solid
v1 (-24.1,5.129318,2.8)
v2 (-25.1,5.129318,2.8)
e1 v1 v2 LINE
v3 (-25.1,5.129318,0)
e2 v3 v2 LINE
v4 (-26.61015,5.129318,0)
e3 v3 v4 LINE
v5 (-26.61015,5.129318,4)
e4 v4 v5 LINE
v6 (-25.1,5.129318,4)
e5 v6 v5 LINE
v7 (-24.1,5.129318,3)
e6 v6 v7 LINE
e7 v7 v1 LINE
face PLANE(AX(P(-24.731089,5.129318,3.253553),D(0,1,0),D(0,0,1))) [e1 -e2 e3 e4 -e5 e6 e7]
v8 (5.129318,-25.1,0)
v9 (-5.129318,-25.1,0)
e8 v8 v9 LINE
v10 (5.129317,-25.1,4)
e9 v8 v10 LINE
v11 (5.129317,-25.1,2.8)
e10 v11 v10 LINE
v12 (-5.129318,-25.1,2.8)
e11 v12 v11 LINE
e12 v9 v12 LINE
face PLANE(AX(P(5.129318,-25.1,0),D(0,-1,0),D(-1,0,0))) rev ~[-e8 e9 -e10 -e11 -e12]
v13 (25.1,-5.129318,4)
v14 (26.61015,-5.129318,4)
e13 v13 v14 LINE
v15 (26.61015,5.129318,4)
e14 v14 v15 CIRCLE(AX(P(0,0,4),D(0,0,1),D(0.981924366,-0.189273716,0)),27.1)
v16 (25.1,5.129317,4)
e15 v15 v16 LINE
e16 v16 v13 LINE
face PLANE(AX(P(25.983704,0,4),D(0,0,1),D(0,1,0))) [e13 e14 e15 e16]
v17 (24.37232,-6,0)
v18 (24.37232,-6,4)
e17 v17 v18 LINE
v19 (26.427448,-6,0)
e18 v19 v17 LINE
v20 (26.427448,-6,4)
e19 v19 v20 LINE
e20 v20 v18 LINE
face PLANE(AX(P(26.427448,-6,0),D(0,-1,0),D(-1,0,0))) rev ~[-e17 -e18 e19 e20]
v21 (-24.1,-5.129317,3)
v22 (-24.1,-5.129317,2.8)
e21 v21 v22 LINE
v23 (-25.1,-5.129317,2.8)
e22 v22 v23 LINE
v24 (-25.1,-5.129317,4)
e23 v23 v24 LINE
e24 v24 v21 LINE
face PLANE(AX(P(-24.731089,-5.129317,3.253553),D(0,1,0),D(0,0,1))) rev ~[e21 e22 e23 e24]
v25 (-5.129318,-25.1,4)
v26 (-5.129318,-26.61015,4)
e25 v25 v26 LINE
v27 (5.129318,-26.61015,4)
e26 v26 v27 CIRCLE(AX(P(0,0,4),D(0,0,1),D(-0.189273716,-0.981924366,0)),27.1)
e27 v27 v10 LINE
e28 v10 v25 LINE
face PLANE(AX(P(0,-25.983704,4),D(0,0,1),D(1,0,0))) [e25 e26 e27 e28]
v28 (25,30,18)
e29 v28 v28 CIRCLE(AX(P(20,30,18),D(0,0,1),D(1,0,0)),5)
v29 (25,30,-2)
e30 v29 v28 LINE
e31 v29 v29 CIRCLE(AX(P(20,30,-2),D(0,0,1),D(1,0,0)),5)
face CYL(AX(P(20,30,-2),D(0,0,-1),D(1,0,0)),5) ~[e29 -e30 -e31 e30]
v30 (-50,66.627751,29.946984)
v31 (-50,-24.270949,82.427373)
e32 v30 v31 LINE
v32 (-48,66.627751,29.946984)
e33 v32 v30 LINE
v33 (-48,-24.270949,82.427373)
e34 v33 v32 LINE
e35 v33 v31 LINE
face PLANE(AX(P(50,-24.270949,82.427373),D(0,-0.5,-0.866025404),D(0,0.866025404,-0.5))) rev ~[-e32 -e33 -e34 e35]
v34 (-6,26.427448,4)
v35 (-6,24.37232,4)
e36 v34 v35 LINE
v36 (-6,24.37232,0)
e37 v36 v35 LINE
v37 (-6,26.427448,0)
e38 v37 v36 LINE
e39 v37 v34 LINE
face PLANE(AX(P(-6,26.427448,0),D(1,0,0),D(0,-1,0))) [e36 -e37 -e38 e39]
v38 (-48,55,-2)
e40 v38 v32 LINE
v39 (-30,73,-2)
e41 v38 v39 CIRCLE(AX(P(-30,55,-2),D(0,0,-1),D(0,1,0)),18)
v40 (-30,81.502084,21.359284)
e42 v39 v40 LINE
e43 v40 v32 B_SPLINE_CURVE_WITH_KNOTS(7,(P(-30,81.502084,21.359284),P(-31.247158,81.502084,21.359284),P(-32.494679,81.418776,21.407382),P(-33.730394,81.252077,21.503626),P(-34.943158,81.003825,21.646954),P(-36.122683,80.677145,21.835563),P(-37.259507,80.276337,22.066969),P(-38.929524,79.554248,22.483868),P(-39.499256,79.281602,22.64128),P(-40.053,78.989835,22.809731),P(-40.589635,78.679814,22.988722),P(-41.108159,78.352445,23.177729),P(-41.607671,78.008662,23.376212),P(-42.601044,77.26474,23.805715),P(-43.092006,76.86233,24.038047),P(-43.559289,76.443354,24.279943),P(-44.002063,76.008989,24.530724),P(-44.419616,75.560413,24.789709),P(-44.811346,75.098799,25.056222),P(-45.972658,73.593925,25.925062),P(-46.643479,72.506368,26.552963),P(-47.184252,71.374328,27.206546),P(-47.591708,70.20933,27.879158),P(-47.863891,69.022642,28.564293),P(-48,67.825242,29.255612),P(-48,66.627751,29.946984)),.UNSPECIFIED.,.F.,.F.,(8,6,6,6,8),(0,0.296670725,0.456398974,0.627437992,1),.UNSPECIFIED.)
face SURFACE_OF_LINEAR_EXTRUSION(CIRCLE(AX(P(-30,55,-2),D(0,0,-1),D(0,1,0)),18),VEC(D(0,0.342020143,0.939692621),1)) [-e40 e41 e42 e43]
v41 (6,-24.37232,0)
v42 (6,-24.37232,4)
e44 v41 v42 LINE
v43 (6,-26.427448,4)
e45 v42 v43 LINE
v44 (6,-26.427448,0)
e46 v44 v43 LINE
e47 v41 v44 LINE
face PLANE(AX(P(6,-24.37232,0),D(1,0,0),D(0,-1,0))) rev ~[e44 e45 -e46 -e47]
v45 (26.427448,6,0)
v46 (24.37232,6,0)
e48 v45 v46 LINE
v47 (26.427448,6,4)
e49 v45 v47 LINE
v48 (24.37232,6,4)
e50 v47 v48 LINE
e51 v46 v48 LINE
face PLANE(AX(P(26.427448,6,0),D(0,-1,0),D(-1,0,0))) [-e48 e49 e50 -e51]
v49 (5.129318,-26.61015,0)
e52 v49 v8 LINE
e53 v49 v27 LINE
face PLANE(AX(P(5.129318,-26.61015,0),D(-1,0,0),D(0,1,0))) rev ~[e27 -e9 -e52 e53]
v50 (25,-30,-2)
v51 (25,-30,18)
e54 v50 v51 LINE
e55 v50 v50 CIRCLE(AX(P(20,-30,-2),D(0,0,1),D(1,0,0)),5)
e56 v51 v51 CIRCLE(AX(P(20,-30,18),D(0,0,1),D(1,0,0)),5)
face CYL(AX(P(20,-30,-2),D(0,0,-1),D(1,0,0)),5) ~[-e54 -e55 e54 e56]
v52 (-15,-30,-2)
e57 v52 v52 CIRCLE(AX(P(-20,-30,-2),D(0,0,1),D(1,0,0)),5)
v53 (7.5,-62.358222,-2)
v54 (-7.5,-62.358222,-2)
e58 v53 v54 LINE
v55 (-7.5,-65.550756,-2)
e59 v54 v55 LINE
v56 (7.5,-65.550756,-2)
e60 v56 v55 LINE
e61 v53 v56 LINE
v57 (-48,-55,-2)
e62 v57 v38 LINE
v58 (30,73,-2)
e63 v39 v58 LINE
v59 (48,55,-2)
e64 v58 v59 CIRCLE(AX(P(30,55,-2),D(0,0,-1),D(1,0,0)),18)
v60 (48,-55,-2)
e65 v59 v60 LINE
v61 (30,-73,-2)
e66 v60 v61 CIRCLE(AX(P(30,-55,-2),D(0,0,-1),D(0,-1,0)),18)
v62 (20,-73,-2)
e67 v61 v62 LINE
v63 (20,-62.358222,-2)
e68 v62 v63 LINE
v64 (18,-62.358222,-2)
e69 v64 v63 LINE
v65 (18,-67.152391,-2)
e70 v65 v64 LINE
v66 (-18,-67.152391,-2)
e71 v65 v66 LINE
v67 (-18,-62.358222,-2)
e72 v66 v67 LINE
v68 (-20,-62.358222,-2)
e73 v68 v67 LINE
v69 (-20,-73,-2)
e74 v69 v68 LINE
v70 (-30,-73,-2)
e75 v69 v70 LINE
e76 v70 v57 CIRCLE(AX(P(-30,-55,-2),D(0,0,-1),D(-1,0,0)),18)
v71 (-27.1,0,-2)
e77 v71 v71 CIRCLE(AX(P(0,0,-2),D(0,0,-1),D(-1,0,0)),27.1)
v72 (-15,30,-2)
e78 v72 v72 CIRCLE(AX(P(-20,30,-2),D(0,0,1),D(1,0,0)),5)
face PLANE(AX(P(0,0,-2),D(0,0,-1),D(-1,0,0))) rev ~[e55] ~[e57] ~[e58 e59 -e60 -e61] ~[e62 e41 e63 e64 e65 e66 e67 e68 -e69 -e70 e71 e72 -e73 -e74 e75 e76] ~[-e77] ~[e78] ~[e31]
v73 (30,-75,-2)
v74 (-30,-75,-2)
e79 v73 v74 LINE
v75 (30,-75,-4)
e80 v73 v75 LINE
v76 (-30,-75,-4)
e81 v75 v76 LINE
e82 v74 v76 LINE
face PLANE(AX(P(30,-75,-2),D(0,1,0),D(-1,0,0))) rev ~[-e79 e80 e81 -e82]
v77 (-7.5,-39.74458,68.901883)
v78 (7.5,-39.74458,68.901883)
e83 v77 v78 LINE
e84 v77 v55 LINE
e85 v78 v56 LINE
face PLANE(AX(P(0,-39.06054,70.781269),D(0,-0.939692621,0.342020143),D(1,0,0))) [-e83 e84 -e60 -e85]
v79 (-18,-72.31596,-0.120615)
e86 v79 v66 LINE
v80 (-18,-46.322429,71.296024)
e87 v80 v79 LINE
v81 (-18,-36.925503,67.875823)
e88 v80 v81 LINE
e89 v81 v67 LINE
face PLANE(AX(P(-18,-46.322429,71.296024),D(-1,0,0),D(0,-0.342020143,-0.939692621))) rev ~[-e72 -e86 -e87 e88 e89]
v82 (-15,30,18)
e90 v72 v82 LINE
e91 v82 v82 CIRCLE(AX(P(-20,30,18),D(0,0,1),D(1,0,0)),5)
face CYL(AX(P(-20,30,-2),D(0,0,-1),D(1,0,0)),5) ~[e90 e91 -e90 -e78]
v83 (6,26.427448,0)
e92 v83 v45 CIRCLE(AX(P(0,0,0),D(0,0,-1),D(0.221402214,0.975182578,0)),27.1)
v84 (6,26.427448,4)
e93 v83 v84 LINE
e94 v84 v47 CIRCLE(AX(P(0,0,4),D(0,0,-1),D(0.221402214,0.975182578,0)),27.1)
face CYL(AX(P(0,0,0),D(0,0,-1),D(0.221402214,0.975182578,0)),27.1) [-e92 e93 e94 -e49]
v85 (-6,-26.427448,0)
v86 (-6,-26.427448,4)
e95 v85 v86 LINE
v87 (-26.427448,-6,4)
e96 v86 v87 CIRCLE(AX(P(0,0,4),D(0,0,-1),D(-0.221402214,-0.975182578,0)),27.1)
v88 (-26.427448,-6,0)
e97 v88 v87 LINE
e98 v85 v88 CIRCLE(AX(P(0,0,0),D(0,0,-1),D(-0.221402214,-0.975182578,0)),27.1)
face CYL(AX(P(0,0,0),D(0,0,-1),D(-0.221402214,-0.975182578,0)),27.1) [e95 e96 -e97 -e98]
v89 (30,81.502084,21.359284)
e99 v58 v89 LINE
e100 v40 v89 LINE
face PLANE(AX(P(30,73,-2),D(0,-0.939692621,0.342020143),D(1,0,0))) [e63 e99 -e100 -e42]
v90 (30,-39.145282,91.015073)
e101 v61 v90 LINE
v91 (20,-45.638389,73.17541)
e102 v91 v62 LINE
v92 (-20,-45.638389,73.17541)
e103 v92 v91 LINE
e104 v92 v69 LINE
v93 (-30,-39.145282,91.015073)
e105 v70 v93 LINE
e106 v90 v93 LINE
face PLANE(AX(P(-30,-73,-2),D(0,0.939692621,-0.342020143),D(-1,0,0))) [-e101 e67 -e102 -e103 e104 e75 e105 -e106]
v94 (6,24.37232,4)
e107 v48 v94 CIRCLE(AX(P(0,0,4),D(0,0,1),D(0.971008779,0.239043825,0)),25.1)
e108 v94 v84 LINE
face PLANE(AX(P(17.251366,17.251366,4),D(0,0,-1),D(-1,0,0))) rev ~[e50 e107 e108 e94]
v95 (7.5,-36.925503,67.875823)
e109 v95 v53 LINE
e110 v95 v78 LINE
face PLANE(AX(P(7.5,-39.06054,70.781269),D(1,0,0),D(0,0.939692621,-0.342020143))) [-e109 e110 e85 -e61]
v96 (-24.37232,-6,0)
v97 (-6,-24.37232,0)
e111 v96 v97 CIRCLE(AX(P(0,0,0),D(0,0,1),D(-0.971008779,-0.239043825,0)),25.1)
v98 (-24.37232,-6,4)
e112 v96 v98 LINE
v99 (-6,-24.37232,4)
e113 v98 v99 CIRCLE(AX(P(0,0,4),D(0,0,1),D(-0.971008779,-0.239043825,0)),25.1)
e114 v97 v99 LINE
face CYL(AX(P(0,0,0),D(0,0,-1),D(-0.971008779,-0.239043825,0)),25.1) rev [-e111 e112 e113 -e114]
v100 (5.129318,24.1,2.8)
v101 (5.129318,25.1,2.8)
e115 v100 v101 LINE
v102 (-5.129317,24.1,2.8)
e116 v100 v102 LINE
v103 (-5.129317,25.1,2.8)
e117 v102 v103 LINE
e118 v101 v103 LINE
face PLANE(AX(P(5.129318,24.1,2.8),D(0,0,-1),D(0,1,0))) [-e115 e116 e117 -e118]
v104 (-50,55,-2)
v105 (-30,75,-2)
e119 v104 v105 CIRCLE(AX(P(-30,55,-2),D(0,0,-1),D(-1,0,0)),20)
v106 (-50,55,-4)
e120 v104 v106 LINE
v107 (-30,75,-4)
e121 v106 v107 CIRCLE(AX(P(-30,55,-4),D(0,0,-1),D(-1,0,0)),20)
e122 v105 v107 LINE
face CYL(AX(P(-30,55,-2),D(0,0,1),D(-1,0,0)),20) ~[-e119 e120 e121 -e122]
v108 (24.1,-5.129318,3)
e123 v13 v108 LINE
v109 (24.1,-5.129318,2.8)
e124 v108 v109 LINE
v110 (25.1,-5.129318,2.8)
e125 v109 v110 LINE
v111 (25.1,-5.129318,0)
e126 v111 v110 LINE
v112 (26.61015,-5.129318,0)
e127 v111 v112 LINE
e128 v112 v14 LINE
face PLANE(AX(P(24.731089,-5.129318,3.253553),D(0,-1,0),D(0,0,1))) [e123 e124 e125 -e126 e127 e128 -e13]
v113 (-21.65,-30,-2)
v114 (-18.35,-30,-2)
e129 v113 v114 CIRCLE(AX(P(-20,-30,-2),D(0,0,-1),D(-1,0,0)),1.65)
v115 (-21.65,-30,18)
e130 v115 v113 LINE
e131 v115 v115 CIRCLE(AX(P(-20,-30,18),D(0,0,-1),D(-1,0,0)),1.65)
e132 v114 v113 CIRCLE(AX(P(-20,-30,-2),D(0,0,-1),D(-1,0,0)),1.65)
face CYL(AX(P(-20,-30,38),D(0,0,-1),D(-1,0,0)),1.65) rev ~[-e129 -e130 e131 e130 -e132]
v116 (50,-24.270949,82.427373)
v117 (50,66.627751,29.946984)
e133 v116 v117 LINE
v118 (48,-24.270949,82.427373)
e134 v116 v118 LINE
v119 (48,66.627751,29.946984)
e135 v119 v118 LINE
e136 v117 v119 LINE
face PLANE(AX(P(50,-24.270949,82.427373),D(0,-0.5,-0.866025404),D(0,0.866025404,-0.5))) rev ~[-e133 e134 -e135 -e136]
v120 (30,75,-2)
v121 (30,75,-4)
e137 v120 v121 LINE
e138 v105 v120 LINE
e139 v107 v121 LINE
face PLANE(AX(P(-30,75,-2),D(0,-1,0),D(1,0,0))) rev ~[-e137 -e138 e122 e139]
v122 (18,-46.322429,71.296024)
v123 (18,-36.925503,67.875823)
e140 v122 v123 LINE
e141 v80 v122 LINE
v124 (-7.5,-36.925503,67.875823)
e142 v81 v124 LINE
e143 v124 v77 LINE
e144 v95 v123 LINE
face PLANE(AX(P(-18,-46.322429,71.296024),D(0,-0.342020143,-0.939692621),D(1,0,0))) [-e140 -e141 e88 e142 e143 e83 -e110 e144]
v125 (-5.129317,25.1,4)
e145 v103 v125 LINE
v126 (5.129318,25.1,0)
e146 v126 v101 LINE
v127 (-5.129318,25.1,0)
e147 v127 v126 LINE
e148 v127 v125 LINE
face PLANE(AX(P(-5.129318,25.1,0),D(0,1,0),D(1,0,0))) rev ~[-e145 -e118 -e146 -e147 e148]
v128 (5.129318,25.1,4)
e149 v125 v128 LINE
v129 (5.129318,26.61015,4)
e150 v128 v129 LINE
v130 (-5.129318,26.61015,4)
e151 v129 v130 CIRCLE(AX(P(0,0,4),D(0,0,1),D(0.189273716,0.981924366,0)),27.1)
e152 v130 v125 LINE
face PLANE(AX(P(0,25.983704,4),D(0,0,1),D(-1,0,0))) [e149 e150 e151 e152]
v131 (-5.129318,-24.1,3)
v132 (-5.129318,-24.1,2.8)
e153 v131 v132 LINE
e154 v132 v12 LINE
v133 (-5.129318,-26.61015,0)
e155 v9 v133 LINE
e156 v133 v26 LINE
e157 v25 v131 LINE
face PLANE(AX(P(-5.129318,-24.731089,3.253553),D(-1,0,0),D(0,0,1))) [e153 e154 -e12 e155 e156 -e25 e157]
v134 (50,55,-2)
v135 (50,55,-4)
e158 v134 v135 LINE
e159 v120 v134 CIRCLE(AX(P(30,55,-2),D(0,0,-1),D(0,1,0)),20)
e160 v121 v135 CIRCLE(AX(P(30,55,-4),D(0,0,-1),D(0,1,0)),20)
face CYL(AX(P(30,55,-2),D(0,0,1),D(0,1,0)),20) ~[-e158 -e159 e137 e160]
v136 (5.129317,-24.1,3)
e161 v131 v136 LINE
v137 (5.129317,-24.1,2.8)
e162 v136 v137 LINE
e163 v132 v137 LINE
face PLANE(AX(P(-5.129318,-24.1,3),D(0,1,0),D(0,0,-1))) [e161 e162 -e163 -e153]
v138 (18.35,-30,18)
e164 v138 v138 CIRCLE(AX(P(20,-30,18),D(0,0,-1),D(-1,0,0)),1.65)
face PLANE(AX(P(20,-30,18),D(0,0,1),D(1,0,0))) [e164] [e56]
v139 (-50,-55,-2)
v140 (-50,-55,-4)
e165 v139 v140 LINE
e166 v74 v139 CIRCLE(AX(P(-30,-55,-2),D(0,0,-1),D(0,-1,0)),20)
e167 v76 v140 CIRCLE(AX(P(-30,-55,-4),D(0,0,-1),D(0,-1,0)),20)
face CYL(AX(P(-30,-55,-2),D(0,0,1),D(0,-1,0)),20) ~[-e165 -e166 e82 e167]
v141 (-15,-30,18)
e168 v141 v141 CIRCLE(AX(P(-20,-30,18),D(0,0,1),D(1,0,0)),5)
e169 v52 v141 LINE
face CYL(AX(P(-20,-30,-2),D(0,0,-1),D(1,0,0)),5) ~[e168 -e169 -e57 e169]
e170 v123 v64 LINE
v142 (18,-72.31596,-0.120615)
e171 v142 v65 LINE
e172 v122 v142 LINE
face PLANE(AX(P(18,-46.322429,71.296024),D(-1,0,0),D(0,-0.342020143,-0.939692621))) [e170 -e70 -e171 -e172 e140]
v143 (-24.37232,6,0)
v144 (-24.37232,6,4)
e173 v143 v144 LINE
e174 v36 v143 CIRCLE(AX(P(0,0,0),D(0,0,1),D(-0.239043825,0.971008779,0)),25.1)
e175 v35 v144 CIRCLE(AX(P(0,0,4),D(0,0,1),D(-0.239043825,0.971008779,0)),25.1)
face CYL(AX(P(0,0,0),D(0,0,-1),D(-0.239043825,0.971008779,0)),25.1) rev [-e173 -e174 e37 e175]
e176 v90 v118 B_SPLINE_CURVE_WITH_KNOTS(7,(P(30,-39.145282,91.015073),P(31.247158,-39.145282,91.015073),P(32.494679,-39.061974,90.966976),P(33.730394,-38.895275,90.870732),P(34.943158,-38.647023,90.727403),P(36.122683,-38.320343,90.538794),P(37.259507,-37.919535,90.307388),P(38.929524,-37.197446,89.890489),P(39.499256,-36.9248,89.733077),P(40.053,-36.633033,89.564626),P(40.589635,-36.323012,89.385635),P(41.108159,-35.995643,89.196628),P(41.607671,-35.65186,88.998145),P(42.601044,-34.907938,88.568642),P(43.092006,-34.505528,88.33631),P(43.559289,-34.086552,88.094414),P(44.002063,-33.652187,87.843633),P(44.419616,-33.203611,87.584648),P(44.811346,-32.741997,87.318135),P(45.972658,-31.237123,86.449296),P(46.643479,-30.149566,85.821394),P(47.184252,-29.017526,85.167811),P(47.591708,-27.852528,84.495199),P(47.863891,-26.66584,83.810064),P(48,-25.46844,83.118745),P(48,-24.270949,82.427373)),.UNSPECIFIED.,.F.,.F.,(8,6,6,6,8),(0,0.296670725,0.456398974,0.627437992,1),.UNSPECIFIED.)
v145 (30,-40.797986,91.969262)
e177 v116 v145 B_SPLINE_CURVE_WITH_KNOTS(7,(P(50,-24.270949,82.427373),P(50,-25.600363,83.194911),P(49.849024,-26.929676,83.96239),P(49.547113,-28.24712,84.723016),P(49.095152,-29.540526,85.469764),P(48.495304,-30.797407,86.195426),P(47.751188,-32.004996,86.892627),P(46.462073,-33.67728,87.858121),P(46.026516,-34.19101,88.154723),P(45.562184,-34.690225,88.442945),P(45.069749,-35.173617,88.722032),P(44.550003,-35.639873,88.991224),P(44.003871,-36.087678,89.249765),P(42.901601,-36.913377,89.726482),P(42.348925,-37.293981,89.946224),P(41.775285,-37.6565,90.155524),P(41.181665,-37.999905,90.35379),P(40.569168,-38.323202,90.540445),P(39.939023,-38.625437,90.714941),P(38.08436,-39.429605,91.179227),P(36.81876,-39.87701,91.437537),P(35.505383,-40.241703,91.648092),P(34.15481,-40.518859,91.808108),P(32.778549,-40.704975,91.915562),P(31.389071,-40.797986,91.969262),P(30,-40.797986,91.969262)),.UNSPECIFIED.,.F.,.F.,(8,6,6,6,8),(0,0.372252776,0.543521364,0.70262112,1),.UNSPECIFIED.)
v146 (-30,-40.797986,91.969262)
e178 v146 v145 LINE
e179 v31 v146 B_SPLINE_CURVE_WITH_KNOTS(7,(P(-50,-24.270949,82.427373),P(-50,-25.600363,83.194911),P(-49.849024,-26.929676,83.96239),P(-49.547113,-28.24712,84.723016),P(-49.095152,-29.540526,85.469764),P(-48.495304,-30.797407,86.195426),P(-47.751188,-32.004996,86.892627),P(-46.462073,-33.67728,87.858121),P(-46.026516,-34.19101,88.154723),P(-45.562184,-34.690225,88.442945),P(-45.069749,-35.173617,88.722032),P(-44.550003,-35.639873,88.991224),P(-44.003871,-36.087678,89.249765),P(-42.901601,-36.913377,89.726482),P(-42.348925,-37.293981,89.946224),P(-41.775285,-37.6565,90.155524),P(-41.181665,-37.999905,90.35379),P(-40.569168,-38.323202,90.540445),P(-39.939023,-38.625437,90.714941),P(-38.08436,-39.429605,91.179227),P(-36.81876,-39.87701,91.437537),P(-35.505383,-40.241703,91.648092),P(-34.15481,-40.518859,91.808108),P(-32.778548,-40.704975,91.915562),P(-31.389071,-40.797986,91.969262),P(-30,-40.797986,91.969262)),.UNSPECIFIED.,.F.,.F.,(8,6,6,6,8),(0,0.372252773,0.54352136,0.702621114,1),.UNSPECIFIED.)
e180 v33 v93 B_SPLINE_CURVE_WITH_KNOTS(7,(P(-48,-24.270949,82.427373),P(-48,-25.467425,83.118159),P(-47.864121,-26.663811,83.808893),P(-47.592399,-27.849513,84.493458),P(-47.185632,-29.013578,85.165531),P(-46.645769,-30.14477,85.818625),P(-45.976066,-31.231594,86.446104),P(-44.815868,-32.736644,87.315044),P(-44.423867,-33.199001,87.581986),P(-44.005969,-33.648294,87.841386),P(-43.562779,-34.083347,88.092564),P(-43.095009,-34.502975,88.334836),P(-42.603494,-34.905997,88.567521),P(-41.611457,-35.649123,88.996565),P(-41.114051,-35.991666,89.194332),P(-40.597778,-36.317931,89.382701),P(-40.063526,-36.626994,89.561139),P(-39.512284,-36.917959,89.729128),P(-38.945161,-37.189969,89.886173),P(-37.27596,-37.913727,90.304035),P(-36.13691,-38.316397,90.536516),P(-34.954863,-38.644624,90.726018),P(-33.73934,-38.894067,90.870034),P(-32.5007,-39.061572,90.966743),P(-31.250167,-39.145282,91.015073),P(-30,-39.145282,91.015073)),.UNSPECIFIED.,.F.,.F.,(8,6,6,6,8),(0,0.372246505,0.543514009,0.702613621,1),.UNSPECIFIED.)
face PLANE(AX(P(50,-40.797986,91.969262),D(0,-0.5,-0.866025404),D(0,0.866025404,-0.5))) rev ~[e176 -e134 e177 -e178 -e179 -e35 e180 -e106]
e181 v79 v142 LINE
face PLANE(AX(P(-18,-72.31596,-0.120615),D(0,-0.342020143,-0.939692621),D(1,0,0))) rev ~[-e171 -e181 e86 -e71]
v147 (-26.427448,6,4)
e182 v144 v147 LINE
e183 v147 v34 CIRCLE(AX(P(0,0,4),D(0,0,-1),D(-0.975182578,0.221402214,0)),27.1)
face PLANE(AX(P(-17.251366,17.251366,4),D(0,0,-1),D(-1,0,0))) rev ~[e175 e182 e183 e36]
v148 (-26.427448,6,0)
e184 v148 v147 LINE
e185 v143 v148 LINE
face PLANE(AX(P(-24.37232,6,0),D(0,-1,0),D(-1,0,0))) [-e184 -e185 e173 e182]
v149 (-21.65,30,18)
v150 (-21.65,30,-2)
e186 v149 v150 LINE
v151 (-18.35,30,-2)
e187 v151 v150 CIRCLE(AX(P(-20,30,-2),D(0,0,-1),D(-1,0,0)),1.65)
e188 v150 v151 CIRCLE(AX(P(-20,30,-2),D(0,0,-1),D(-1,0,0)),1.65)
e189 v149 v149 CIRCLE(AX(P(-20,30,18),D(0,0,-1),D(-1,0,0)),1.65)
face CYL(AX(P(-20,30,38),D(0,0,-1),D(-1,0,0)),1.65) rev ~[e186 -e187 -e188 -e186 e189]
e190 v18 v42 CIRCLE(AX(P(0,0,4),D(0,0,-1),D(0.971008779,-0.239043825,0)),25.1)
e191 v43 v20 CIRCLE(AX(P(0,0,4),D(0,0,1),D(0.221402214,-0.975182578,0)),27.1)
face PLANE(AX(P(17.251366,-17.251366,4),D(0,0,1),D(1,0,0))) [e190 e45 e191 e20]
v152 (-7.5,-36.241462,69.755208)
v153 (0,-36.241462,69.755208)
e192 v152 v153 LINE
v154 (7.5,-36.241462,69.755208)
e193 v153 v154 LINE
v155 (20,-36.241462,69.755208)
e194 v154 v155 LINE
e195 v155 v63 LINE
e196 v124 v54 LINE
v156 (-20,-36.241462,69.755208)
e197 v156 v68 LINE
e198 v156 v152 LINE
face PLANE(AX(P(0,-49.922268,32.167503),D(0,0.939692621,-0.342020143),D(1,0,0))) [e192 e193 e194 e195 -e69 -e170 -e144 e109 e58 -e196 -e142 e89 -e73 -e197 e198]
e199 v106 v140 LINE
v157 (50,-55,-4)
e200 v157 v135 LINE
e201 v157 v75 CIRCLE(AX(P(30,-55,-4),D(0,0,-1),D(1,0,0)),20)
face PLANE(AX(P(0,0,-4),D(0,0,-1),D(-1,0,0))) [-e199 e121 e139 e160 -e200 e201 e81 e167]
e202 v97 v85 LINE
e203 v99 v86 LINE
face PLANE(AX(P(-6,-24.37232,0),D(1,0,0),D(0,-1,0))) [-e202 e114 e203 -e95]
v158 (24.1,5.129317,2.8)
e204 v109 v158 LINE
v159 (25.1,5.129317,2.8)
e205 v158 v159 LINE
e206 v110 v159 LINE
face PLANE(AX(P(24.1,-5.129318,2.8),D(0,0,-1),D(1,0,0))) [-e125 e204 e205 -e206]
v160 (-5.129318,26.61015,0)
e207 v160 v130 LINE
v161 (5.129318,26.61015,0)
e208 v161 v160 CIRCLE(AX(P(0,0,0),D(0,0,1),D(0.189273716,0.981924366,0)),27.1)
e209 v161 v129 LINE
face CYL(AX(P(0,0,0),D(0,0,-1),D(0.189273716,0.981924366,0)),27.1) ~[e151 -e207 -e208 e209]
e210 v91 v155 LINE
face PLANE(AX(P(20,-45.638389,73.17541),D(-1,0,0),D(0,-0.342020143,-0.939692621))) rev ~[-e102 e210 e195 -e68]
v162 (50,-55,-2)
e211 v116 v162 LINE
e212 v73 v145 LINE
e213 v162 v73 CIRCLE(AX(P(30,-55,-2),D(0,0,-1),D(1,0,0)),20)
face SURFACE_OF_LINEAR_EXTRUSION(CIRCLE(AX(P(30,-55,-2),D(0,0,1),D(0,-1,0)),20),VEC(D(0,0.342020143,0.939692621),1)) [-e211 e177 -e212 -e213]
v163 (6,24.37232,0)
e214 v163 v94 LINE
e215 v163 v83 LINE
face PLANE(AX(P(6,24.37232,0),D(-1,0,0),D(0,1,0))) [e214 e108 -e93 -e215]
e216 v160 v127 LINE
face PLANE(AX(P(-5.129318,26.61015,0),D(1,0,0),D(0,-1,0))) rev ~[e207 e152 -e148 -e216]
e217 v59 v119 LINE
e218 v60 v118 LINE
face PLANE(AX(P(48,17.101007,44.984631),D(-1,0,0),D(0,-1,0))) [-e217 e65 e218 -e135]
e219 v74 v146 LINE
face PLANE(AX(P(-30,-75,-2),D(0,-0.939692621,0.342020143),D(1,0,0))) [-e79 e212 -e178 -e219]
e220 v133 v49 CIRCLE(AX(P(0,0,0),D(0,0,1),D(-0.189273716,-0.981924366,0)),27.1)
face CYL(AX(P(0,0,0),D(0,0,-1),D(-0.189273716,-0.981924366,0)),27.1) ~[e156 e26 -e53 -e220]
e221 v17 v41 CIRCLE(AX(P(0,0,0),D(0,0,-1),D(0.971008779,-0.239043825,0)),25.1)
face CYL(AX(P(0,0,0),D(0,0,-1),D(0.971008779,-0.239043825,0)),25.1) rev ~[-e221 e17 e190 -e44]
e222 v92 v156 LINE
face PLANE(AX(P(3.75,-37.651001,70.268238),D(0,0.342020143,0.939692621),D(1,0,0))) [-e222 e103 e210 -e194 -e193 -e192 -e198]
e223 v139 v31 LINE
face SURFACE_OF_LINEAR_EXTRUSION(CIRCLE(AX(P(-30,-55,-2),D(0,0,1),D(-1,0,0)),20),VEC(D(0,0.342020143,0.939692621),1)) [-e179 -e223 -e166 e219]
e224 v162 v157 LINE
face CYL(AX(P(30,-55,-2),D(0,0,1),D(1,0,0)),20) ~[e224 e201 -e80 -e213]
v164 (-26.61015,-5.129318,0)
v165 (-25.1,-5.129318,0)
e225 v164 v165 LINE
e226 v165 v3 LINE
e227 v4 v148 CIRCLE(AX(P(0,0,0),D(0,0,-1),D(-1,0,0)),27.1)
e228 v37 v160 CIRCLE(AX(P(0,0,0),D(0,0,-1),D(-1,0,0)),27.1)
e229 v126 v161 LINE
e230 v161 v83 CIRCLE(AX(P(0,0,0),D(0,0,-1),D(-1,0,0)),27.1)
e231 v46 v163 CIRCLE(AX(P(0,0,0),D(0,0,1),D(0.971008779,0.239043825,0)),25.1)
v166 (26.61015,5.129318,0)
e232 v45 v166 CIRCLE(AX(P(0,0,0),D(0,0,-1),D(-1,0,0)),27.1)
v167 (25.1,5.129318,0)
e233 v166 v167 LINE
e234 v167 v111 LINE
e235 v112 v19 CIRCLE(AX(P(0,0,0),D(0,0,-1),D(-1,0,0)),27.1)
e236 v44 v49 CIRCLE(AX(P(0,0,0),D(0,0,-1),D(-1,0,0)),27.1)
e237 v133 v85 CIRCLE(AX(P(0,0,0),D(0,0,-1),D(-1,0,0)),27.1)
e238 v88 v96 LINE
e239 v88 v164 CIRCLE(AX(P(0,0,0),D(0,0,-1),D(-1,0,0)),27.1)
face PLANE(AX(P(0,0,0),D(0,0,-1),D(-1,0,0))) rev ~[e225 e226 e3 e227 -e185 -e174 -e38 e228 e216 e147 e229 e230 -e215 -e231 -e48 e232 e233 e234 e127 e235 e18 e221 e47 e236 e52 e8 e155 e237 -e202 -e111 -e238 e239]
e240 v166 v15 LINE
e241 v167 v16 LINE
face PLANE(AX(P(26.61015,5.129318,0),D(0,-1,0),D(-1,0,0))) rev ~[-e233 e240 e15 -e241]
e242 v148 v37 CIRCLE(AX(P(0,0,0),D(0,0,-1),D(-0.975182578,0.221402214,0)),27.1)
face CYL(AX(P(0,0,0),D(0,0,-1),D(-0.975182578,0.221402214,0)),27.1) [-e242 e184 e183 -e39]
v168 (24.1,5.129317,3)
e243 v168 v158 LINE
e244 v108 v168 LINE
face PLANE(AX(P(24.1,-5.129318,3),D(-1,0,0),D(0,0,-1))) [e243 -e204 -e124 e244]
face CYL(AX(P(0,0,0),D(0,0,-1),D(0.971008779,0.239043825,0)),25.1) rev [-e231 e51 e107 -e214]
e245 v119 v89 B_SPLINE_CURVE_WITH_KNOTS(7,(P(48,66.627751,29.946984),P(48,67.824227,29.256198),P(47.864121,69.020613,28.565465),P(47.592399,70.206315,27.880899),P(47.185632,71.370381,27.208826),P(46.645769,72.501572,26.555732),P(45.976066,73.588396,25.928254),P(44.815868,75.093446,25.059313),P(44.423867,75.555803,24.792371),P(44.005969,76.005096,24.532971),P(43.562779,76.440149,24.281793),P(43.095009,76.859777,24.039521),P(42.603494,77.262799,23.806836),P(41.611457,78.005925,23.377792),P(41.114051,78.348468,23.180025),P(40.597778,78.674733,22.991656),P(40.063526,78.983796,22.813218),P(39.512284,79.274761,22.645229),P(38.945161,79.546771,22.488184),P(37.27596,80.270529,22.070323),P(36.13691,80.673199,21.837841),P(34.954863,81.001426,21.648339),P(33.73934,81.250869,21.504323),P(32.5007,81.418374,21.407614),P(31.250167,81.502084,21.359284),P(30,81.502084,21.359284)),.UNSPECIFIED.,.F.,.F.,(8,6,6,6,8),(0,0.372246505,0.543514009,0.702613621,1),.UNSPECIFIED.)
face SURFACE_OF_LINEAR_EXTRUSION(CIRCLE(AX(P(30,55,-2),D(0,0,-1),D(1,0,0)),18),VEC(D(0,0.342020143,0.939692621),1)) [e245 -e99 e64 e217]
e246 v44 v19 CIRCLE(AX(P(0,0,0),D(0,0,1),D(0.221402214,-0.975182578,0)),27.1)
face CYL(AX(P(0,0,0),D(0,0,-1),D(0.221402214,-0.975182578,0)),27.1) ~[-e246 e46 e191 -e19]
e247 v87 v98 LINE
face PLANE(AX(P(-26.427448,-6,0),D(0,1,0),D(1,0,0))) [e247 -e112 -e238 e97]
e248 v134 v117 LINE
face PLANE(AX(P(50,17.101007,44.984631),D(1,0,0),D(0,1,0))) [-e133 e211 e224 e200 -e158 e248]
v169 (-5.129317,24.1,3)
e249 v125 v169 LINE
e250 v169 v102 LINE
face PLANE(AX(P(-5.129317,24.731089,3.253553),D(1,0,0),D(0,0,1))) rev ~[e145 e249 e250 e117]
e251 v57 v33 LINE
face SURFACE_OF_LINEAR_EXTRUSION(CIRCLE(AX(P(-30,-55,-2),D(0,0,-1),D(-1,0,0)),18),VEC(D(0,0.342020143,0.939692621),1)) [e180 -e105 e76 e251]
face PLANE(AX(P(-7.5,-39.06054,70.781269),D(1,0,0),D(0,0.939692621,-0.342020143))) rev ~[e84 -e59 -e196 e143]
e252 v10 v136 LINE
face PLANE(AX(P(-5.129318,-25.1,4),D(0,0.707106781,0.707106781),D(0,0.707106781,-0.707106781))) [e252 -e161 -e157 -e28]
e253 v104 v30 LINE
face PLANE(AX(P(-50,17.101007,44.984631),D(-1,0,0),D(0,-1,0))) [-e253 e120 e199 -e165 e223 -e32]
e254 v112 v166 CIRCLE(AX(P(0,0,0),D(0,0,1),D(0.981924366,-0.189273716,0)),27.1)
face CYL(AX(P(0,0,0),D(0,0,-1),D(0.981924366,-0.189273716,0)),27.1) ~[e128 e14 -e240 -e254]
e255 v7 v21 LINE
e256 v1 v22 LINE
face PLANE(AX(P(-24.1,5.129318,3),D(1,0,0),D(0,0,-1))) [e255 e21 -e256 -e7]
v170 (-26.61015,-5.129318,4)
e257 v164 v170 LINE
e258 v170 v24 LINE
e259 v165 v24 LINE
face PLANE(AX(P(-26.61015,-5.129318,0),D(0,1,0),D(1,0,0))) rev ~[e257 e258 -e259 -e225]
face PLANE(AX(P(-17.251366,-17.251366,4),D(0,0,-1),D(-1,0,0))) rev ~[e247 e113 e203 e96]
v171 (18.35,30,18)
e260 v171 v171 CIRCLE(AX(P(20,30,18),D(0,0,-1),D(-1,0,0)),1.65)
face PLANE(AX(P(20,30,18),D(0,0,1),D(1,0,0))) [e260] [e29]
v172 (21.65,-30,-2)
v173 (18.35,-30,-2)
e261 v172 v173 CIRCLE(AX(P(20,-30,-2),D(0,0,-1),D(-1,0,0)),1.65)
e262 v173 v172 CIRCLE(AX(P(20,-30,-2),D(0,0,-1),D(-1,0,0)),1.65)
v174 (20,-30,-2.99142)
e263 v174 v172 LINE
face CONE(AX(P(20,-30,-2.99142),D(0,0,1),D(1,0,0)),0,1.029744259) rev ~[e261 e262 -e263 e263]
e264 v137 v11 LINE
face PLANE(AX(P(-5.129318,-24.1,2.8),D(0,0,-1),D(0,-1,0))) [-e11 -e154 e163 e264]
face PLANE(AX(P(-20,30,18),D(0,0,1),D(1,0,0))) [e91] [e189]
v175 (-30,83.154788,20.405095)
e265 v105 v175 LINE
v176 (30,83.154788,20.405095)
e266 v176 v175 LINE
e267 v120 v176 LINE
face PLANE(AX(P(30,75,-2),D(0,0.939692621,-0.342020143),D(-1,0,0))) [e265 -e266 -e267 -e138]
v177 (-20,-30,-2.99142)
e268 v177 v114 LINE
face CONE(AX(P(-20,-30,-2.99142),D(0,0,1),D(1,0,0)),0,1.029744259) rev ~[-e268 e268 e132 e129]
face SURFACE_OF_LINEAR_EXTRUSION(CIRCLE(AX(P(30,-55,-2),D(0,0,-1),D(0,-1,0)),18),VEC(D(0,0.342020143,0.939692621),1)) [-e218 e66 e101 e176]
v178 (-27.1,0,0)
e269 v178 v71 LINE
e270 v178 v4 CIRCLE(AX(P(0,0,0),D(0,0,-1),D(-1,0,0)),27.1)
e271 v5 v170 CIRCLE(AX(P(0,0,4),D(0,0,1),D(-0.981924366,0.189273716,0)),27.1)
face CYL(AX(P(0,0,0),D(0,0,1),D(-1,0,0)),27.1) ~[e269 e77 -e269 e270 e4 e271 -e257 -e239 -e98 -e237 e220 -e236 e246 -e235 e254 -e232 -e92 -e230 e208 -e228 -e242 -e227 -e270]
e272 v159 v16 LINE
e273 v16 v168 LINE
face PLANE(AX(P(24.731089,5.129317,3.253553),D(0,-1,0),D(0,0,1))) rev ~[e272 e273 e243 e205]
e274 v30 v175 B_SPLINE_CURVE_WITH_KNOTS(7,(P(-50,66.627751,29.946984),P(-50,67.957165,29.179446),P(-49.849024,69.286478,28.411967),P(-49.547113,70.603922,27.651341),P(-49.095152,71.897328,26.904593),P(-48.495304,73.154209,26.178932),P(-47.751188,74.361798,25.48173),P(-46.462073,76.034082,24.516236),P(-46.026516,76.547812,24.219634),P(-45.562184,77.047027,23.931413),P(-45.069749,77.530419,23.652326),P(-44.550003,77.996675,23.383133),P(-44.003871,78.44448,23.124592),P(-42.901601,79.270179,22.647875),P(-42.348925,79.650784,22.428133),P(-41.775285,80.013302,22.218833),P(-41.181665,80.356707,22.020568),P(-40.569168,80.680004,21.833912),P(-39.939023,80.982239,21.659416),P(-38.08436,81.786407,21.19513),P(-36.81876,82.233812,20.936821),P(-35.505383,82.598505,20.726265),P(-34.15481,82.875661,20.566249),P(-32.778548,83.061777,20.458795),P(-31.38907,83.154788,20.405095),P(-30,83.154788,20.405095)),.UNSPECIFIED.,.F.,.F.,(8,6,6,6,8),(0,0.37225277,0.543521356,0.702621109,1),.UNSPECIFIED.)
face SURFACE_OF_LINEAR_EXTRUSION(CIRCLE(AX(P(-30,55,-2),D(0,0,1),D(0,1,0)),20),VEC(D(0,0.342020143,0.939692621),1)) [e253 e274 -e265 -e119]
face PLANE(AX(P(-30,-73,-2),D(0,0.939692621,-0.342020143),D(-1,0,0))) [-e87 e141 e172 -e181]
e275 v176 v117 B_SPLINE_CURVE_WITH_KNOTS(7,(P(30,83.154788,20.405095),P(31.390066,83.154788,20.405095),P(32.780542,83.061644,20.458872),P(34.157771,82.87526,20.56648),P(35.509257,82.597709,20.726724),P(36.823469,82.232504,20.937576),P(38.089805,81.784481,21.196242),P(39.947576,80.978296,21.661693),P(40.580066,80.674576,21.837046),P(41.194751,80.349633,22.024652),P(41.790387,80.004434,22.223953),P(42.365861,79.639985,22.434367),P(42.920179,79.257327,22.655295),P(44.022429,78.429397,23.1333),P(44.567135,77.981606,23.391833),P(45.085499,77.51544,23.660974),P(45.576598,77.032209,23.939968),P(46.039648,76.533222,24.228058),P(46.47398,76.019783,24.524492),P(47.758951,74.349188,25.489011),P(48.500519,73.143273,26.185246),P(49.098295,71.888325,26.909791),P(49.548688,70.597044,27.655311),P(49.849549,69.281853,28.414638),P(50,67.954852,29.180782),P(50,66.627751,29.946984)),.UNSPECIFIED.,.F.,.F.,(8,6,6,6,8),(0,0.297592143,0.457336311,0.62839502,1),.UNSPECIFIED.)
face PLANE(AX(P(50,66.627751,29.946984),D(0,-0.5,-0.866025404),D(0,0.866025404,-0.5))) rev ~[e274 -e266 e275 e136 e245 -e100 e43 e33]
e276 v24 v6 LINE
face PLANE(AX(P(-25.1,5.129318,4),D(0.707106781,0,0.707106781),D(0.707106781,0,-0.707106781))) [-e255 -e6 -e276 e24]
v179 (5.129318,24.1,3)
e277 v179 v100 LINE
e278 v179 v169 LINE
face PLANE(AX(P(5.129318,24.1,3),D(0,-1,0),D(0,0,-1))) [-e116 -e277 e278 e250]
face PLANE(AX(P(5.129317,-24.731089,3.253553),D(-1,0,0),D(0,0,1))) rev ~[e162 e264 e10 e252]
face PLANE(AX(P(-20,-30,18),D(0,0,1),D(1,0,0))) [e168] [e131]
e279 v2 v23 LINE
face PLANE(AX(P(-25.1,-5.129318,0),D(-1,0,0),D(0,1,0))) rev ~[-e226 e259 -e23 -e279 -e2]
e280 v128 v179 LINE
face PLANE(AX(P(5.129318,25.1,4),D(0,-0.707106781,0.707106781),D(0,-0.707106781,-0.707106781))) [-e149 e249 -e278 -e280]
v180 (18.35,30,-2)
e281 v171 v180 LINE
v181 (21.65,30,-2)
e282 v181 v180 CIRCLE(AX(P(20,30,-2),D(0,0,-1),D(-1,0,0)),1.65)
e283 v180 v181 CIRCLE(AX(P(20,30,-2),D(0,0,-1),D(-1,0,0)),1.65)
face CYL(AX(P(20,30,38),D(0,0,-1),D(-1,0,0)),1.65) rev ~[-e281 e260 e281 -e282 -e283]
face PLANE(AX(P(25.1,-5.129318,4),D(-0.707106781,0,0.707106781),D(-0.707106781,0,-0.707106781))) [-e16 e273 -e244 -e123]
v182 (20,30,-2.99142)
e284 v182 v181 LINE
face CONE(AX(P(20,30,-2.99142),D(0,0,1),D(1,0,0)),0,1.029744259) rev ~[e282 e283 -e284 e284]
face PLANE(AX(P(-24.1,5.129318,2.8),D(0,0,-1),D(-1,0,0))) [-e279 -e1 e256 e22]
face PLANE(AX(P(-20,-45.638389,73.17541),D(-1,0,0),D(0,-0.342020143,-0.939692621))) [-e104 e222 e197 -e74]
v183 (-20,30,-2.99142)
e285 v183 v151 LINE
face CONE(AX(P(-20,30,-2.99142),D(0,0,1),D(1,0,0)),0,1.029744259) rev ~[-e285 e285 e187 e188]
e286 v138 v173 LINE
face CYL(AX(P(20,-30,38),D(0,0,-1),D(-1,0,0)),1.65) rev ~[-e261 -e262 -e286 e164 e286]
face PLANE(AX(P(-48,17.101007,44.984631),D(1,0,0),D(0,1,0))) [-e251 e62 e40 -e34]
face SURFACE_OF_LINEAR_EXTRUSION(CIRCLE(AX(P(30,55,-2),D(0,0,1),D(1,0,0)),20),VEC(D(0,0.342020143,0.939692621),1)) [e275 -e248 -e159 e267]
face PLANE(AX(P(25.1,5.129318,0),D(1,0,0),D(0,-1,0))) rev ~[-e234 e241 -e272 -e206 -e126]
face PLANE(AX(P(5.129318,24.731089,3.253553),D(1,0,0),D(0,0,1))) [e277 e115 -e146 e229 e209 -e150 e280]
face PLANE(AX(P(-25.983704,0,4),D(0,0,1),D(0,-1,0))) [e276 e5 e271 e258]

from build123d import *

# Parameters (mm, degrees)
AUFSATZ_LINEAR_AUSTRAGEN1_DEPTH      = 4
AUFSATZ_LINEAR_AUSTRAGEN1_2_DEPTH    = 4
AUFSATZ_LINEAR_AUSTRAGEN1_3_DEPTH    = 4
AUFSATZ_LINEAR_AUSTRAGEN1_4_DEPTH    = 4
SKIZZE2_R                            = 27.1
AUFSATZ_LINEAR_AUSTRAGEN2_DEPTH      = 2
AUFSATZ_LINEAR_AUSTRAGEN3_DEPTH      = 4
AUFSATZ_LINEAR_AUSTRAGEN4_DEPTH      = 10.258635
KREISMUSTER3_COUNT                   = 4
AUFSATZ_LINEAR_AUSTRAGEN5_DEPTH      = 2
SCHNITT_LINEAR_AUSTRAGEN1_DEPTH      = 1
SCHNITT_LINEAR_AUSTRAGEN1_DEPTH_BACK = 101
SKIZZE11_W                           = 40
SKIZZE11_H                           = 80
SKIZZE11_W_2                         = 36
SKIZZE11_H_2                         = 76
AUFSATZ_LINEAR_AUSTRAGEN6_DEPTH      = 10
AUFSATZ_LINEAR_AUSTRAGEN7_REACH      = 85.898
SKIZZE12_W                           = 7.5
SKIZZE12_H                           = 3
SCHNITT_LINEAR_AUSTRAGEN2_DEPTH      = 1.0000001
SCHNITT_LINEAR_AUSTRAGEN2_DEPTH_BACK = 101.0000001
SKIZZE14_R                           = 5
AUFSATZ_LINEAR_AUSTRAGEN8_DEPTH      = 20
KERNLOCH_F_R_M4_GEWINDE1_D           = 3.3
KERNLOCH_F_R_M4_GEWINDE1_DEPTH       = 20
KERNLOCH_F_R_M4_GEWINDE1_TIP         = 0.991420021


with BuildPart() as part:
    # Skizze1 → Aufsatz-Linear austragen1 (new body)
    with BuildSketch(Plane.XY):
        with BuildLine():
            Line((-6, -24.372320366), (-6, -26.427447853))
            ThreePointArc((-6, -26.427447853), (-19.16259377, -19.16259377), (-26.427447853, -6))
            Line((-26.427447853, -6), (-24.372320366, -6))
            ThreePointArc((-24.372320366, -6), (-17.748380208, -17.748380208), (-6, -24.372320366))
        make_face()
    extrude(amount=AUFSATZ_LINEAR_AUSTRAGEN1_DEPTH)



with BuildPart() as body_2:
    # Skizze1 → Aufsatz-Linear austragen1 2 (new body)
    with BuildSketch(Plane.XY):
        with BuildLine():
            Line((6, -24.372320366), (6, -26.427447853))
            ThreePointArc((6, -26.427447853), (19.16259377, -19.16259377), (26.427447853, -6))
            Line((26.427447853, -6), (24.372320366, -6))
            ThreePointArc((24.372320366, -6), (17.748380208, -17.748380208), (6, -24.372320366))
        make_face()
    extrude(amount=AUFSATZ_LINEAR_AUSTRAGEN1_2_DEPTH)


with BuildPart() as body_3:
    # Skizze1 → Aufsatz-Linear austragen1 3 (new body)
    with BuildSketch(Plane.XY):
        with BuildLine():
            Line((-24.372320366, 6), (-26.427447853, 6))
            ThreePointArc((-26.427447853, 6), (-19.16259377, 19.16259377), (-6, 26.427447853))
            Line((-6, 26.427447853), (-6, 24.372320366))
            ThreePointArc((-6, 24.372320366), (-17.748380208, 17.748380208), (-24.372320366, 6))
        make_face()
    extrude(amount=AUFSATZ_LINEAR_AUSTRAGEN1_3_DEPTH)


with BuildPart() as body_4:
    # Skizze1 → Aufsatz-Linear austragen1 4 (new body)
    with BuildSketch(Plane.XY):
        with BuildLine():
            Line((6, 24.372320366), (6, 26.427447853))
            ThreePointArc((6, 26.427447853), (19.16259377, 19.16259377), (26.427447853, 6))
            Line((26.427447853, 6), (24.372320366, 6))
            ThreePointArc((24.372320366, 6), (17.748380208, 17.748380208), (6, 24.372320366))
        make_face()
    extrude(amount=AUFSATZ_LINEAR_AUSTRAGEN1_4_DEPTH)


with BuildPart() as part_1:
    add(part.part)

    add(body_2.part)  # Aufsatz-Linear austragen2 merges body 2

    add(body_3.part)  # Aufsatz-Linear austragen2 merges body 3

    add(body_4.part)  # Aufsatz-Linear austragen2 merges body 4
    # Skizze2 → Aufsatz-Linear austragen2 (add)
    with BuildSketch(Plane(origin=(0, 0, 0), x_dir=(-1, 0, 0), z_dir=(0, 0, -1))):
        Circle(SKIZZE2_R)
    extrude(amount=AUFSATZ_LINEAR_AUSTRAGEN2_DEPTH)


with BuildPart() as body_2_2:
    # Skizze3 → Aufsatz-Linear austragen3 (new body)
    with BuildSketch(Plane.XY):
        with BuildLine():
            Line((5.129317712, -26.610150315), (5.129317712, -25.1))
            Line((5.129317712, -25.1), (0, -25.1))
            Line((0, -25.1), (-5.129317712, -25.1))
            Line((-5.129317712, -25.1), (-5.129317712, -26.610150315))
            ThreePointArc((-5.129317712, -26.610150315), (0, -27.1), (5.129317712, -26.610150315))
        make_face()
    extrude(amount=AUFSATZ_LINEAR_AUSTRAGEN3_DEPTH)


with BuildPart() as body_3_2:
    # Skizze4 → Aufsatz-Linear austragen4 (new body)
    with BuildSketch(Plane.ZY.offset(5.129317712)):
        Polygon((4, -25.1), (3, -24.1), (2.8, -24.1), (2.8, -25.1), align=None)
    extrude(amount=-AUFSATZ_LINEAR_AUSTRAGEN4_DEPTH)


with BuildPart() as kreismuster3_1:
    # Kreismuster3: pattern copy
    add(body_3_2.part.rotate(Axis((0, 0, 0), (0, 0, 1)), 1 * 360 / KREISMUSTER3_COUNT))


with BuildPart() as kreismuster3_2:
    # Kreismuster3: pattern copy
    add(body_3_2.part.rotate(Axis((0, 0, 0), (0, 0, 1)), 2 * 360 / KREISMUSTER3_COUNT))


with BuildPart() as kreismuster3_3:
    # Kreismuster3: pattern copy
    add(body_3_2.part.rotate(Axis((0, 0, 0), (0, 0, 1)), 3 * 360 / KREISMUSTER3_COUNT))


with BuildPart() as kreismuster3_4:
    # Kreismuster3: pattern copy
    add(body_2_2.part.rotate(Axis((0, 0, 0), (0, 0, 1)), 1 * 360 / KREISMUSTER3_COUNT))


with BuildPart() as kreismuster3_5:
    # Kreismuster3: pattern copy
    add(body_2_2.part.rotate(Axis((0, 0, 0), (0, 0, 1)), 2 * 360 / KREISMUSTER3_COUNT))


with BuildPart() as kreismuster3_6:
    # Kreismuster3: pattern copy
    add(body_2_2.part.rotate(Axis((0, 0, 0), (0, 0, 1)), 3 * 360 / KREISMUSTER3_COUNT))


with BuildPart() as part_2:
    add(part_1.part)

    # Kombinieren1: union Kreismuster3_6, Kreismuster3_5, Kreismuster3_4, body 2 2, Kreismuster3_3, Kreismuster3_2, Kreismuster3_1, body 3 2
    add(kreismuster3_6.part)
    add(kreismuster3_5.part)
    add(kreismuster3_4.part)
    add(body_2_2.part)
    add(kreismuster3_3.part)
    add(kreismuster3_2.part)
    add(kreismuster3_1.part)
    add(body_3_2.part)

    # Skizze5 → Aufsatz-Linear austragen5 (add)
    with BuildSketch(Plane(origin=(0, 0, -2), x_dir=(-1, 0, 0), z_dir=(0, 0, -1))):
        with BuildLine():
            Line((30, 75), (-30, 75))
            ThreePointArc((-30, 75), (-44.142135624, 69.142135624), (-50, 55))
            Line((-50, 55), (-50, -55))
            ThreePointArc((-50, -55), (-44.142135624, -69.142135624), (-30, -75))
            Line((-30, -75), (30, -75))
            ThreePointArc((30, -75), (44.142135624, -69.142135624), (50, -55))
            Line((50, -55), (50, 55))
            ThreePointArc((50, 55), (44.142135624, 69.142135624), (30, 75))
        make_face()
    extrude(amount=AUFSATZ_LINEAR_AUSTRAGEN5_DEPTH)

    # Austragung2: sweep along a path in Skizze7
    with BuildLine(Plane(origin=(0, 0, 0), x_dir=(0, 0, -1), z_dir=(1, 0, 0))) as austragung2_path:
        Line((2, 75), (-91.969262079, 109.202014333))
    # Skizze6 → Austragung2 (sweep)
    with BuildSketch(Plane.XY.offset(-2)):
        with BuildLine():
            Line((50, -55), (50, 55))
            ThreePointArc((50, 55), (44.142135624, 69.142135624), (30, 75))
            Line((30, 75), (-30, 75))
            ThreePointArc((-30, 75), (-44.142135624, 69.142135624), (-50, 55))
            Line((-50, 55), (-50, -55))
            ThreePointArc((-50, -55), (-44.142135624, -69.142135624), (-30, -75))
            Line((-30, -75), (30, -75))
            ThreePointArc((30, -75), (44.142135624, -69.142135624), (50, -55))
        make_face()
        with BuildLine():
            Line((48, -55), (48, 55))
            ThreePointArc((48, 55), (42.727922061, 67.727922061), (30, 73))
            Line((30, 73), (-30, 73))
            ThreePointArc((-30, 73), (-42.727922061, 67.727922061), (-48, 55))
            Line((-48, 55), (-48, -55))
            ThreePointArc((-48, -55), (-42.727922061, -67.727922061), (-30, -73))
            Line((-30, -73), (30, -73))
            ThreePointArc((30, -73), (42.727922061, -67.727922061), (48, -55))
        make_face(mode=Mode.SUBTRACT)
    sweep(path=austragung2_path.line)

    # Skizze8 → Schnitt-Linear austragen1 (cut, two sides)
    with BuildSketch(Plane(origin=(50, 0, 0), x_dir=(0, 0, -1), z_dir=(1, 0, 0))) as schnitt_linear_austragen1_sk:
        Polygon((-91.969262079, -20.797985667), (-82.427373137, -24.270949221), (-29.94698396, 66.627751236), (-91.969262079, 89.202014333), align=None)
        Polygon((-91.969262079, 89.202014333), (-29.94698396, 66.627751236), (-20.405095018, 83.154787683), (-91.969262079, 109.202014333), align=None)
        Polygon((-91.969262079, -20.797985667), (-91.969262079, -40.797985667), (-82.427373137, -24.270949221), align=None)
    extrude(amount=SCHNITT_LINEAR_AUSTRAGEN1_DEPTH, mode=Mode.SUBTRACT)
    extrude(schnitt_linear_austragen1_sk.sketch, amount=-SCHNITT_LINEAR_AUSTRAGEN1_DEPTH_BACK, mode=Mode.SUBTRACT)

    # Skizze11 → Aufsatz-Linear austragen6 (add)
    with BuildSketch(Plane(origin=(0, -63.817834564, 23.227792197), x_dir=(1, 0, 0), z_dir=(0, 0.939692621, -0.342020143))):
        with Locations((0, -13.153144296)):
            Rectangle(SKIZZE11_W, SKIZZE11_H)
        with Locations((0, -13.153144296)):
            Rectangle(SKIZZE11_W_2, SKIZZE11_H_2, mode=Mode.SUBTRACT)
    extrude(amount=AUFSATZ_LINEAR_AUSTRAGEN6_DEPTH)

    # Aufsatz-Linear austragen7: up to this face of the body (flat: up to its plane)
    aufsatz_linear_austragen7_end = Plane(part_2.part.faces().sort_by_distance((0, 0.797060642, -4))[0])
    # Skizze12 → Aufsatz-Linear austragen7 (add, up to the picked face)
    with BuildSketch(Plane(origin=(0, 18.17944603, 49.947617466), x_dir=(1, 0, 0), z_dir=(0, 0.342020143, 0.939692621)), mode=Mode.PRIVATE) as aufsatz_linear_austragen7_sk1:
        with Locations((-3.75, -59.413521031)):
            Rectangle(SKIZZE12_W, SKIZZE12_H)
    aufsatz_linear_austragen7_tool1 = split(extrude(aufsatz_linear_austragen7_sk1.sketch, amount=-AUFSATZ_LINEAR_AUSTRAGEN7_REACH, mode=Mode.PRIVATE), bisect_by=aufsatz_linear_austragen7_end, keep=Keep.BOTH, mode=Mode.PRIVATE)
    add(aufsatz_linear_austragen7_tool1.solids().sort_by_distance((-3.75, -37.651001, 70.268238))[0])
    # Skizze12 → Aufsatz-Linear austragen7 (add, up to the picked face)
    with BuildSketch(Plane(origin=(0, 18.17944603, 49.947617466), x_dir=(1, 0, 0), z_dir=(0, 0.342020143, 0.939692621)), mode=Mode.PRIVATE) as aufsatz_linear_austragen7_sk2:
        with Locations((3.75, -59.413521031)):
            Rectangle(SKIZZE12_W, SKIZZE12_H)
    aufsatz_linear_austragen7_tool2 = split(extrude(aufsatz_linear_austragen7_sk2.sketch, amount=-AUFSATZ_LINEAR_AUSTRAGEN7_REACH, mode=Mode.PRIVATE), bisect_by=aufsatz_linear_austragen7_end, keep=Keep.BOTH, mode=Mode.PRIVATE)
    add(aufsatz_linear_austragen7_tool2.solids().sort_by_distance((3.75, -37.651001, 70.268238))[0])

    # Skizze13 → Schnitt-Linear austragen2 (cut, two sides)
    with BuildSketch(Plane(origin=(50, 0, 0), x_dir=(0, 0, -1), z_dir=(1, 0, 0))) as schnitt_linear_austragen2_sk:
        Polygon((4, -47.000472849), (4, -75), (25.669622084, -47.000472849), align=None)
    extrude(amount=SCHNITT_LINEAR_AUSTRAGEN2_DEPTH, mode=Mode.SUBTRACT)
    extrude(schnitt_linear_austragen2_sk.sketch, amount=-SCHNITT_LINEAR_AUSTRAGEN2_DEPTH_BACK, mode=Mode.SUBTRACT)

    # Skizze14 → Aufsatz-Linear austragen8 (add)
    with BuildSketch(Plane(origin=(0, -99.846855704, -2), x_dir=(1, 0, 0), z_dir=(0, 0, 1))):
        with Locations((-20, 69.846855704)):
            Circle(SKIZZE14_R)
        with Locations((20, 69.846855704)):
            Circle(SKIZZE14_R)
        with Locations((-20, 129.846855704)):
            Circle(SKIZZE14_R)
        with Locations((20, 129.846855704)):
            Circle(SKIZZE14_R)
    extrude(amount=AUFSATZ_LINEAR_AUSTRAGEN8_DEPTH)

    # Kernloch für M4 Gewinde1
    with Locations(Plane.XY.offset(18)):
        with Locations((-20, 30), (20, 30), (20, -30), (-20, -30)):
            Hole(KERNLOCH_F_R_M4_GEWINDE1_D / 2, depth=KERNLOCH_F_R_M4_GEWINDE1_DEPTH)
            with Locations((0, 0, -(KERNLOCH_F_R_M4_GEWINDE1_DEPTH + KERNLOCH_F_R_M4_GEWINDE1_TIP / 2))):  # 118° drill point
                Cone(0, KERNLOCH_F_R_M4_GEWINDE1_D / 2, KERNLOCH_F_R_M4_GEWINDE1_TIP, mode=Mode.SUBTRACT)


solid = part_2.part
